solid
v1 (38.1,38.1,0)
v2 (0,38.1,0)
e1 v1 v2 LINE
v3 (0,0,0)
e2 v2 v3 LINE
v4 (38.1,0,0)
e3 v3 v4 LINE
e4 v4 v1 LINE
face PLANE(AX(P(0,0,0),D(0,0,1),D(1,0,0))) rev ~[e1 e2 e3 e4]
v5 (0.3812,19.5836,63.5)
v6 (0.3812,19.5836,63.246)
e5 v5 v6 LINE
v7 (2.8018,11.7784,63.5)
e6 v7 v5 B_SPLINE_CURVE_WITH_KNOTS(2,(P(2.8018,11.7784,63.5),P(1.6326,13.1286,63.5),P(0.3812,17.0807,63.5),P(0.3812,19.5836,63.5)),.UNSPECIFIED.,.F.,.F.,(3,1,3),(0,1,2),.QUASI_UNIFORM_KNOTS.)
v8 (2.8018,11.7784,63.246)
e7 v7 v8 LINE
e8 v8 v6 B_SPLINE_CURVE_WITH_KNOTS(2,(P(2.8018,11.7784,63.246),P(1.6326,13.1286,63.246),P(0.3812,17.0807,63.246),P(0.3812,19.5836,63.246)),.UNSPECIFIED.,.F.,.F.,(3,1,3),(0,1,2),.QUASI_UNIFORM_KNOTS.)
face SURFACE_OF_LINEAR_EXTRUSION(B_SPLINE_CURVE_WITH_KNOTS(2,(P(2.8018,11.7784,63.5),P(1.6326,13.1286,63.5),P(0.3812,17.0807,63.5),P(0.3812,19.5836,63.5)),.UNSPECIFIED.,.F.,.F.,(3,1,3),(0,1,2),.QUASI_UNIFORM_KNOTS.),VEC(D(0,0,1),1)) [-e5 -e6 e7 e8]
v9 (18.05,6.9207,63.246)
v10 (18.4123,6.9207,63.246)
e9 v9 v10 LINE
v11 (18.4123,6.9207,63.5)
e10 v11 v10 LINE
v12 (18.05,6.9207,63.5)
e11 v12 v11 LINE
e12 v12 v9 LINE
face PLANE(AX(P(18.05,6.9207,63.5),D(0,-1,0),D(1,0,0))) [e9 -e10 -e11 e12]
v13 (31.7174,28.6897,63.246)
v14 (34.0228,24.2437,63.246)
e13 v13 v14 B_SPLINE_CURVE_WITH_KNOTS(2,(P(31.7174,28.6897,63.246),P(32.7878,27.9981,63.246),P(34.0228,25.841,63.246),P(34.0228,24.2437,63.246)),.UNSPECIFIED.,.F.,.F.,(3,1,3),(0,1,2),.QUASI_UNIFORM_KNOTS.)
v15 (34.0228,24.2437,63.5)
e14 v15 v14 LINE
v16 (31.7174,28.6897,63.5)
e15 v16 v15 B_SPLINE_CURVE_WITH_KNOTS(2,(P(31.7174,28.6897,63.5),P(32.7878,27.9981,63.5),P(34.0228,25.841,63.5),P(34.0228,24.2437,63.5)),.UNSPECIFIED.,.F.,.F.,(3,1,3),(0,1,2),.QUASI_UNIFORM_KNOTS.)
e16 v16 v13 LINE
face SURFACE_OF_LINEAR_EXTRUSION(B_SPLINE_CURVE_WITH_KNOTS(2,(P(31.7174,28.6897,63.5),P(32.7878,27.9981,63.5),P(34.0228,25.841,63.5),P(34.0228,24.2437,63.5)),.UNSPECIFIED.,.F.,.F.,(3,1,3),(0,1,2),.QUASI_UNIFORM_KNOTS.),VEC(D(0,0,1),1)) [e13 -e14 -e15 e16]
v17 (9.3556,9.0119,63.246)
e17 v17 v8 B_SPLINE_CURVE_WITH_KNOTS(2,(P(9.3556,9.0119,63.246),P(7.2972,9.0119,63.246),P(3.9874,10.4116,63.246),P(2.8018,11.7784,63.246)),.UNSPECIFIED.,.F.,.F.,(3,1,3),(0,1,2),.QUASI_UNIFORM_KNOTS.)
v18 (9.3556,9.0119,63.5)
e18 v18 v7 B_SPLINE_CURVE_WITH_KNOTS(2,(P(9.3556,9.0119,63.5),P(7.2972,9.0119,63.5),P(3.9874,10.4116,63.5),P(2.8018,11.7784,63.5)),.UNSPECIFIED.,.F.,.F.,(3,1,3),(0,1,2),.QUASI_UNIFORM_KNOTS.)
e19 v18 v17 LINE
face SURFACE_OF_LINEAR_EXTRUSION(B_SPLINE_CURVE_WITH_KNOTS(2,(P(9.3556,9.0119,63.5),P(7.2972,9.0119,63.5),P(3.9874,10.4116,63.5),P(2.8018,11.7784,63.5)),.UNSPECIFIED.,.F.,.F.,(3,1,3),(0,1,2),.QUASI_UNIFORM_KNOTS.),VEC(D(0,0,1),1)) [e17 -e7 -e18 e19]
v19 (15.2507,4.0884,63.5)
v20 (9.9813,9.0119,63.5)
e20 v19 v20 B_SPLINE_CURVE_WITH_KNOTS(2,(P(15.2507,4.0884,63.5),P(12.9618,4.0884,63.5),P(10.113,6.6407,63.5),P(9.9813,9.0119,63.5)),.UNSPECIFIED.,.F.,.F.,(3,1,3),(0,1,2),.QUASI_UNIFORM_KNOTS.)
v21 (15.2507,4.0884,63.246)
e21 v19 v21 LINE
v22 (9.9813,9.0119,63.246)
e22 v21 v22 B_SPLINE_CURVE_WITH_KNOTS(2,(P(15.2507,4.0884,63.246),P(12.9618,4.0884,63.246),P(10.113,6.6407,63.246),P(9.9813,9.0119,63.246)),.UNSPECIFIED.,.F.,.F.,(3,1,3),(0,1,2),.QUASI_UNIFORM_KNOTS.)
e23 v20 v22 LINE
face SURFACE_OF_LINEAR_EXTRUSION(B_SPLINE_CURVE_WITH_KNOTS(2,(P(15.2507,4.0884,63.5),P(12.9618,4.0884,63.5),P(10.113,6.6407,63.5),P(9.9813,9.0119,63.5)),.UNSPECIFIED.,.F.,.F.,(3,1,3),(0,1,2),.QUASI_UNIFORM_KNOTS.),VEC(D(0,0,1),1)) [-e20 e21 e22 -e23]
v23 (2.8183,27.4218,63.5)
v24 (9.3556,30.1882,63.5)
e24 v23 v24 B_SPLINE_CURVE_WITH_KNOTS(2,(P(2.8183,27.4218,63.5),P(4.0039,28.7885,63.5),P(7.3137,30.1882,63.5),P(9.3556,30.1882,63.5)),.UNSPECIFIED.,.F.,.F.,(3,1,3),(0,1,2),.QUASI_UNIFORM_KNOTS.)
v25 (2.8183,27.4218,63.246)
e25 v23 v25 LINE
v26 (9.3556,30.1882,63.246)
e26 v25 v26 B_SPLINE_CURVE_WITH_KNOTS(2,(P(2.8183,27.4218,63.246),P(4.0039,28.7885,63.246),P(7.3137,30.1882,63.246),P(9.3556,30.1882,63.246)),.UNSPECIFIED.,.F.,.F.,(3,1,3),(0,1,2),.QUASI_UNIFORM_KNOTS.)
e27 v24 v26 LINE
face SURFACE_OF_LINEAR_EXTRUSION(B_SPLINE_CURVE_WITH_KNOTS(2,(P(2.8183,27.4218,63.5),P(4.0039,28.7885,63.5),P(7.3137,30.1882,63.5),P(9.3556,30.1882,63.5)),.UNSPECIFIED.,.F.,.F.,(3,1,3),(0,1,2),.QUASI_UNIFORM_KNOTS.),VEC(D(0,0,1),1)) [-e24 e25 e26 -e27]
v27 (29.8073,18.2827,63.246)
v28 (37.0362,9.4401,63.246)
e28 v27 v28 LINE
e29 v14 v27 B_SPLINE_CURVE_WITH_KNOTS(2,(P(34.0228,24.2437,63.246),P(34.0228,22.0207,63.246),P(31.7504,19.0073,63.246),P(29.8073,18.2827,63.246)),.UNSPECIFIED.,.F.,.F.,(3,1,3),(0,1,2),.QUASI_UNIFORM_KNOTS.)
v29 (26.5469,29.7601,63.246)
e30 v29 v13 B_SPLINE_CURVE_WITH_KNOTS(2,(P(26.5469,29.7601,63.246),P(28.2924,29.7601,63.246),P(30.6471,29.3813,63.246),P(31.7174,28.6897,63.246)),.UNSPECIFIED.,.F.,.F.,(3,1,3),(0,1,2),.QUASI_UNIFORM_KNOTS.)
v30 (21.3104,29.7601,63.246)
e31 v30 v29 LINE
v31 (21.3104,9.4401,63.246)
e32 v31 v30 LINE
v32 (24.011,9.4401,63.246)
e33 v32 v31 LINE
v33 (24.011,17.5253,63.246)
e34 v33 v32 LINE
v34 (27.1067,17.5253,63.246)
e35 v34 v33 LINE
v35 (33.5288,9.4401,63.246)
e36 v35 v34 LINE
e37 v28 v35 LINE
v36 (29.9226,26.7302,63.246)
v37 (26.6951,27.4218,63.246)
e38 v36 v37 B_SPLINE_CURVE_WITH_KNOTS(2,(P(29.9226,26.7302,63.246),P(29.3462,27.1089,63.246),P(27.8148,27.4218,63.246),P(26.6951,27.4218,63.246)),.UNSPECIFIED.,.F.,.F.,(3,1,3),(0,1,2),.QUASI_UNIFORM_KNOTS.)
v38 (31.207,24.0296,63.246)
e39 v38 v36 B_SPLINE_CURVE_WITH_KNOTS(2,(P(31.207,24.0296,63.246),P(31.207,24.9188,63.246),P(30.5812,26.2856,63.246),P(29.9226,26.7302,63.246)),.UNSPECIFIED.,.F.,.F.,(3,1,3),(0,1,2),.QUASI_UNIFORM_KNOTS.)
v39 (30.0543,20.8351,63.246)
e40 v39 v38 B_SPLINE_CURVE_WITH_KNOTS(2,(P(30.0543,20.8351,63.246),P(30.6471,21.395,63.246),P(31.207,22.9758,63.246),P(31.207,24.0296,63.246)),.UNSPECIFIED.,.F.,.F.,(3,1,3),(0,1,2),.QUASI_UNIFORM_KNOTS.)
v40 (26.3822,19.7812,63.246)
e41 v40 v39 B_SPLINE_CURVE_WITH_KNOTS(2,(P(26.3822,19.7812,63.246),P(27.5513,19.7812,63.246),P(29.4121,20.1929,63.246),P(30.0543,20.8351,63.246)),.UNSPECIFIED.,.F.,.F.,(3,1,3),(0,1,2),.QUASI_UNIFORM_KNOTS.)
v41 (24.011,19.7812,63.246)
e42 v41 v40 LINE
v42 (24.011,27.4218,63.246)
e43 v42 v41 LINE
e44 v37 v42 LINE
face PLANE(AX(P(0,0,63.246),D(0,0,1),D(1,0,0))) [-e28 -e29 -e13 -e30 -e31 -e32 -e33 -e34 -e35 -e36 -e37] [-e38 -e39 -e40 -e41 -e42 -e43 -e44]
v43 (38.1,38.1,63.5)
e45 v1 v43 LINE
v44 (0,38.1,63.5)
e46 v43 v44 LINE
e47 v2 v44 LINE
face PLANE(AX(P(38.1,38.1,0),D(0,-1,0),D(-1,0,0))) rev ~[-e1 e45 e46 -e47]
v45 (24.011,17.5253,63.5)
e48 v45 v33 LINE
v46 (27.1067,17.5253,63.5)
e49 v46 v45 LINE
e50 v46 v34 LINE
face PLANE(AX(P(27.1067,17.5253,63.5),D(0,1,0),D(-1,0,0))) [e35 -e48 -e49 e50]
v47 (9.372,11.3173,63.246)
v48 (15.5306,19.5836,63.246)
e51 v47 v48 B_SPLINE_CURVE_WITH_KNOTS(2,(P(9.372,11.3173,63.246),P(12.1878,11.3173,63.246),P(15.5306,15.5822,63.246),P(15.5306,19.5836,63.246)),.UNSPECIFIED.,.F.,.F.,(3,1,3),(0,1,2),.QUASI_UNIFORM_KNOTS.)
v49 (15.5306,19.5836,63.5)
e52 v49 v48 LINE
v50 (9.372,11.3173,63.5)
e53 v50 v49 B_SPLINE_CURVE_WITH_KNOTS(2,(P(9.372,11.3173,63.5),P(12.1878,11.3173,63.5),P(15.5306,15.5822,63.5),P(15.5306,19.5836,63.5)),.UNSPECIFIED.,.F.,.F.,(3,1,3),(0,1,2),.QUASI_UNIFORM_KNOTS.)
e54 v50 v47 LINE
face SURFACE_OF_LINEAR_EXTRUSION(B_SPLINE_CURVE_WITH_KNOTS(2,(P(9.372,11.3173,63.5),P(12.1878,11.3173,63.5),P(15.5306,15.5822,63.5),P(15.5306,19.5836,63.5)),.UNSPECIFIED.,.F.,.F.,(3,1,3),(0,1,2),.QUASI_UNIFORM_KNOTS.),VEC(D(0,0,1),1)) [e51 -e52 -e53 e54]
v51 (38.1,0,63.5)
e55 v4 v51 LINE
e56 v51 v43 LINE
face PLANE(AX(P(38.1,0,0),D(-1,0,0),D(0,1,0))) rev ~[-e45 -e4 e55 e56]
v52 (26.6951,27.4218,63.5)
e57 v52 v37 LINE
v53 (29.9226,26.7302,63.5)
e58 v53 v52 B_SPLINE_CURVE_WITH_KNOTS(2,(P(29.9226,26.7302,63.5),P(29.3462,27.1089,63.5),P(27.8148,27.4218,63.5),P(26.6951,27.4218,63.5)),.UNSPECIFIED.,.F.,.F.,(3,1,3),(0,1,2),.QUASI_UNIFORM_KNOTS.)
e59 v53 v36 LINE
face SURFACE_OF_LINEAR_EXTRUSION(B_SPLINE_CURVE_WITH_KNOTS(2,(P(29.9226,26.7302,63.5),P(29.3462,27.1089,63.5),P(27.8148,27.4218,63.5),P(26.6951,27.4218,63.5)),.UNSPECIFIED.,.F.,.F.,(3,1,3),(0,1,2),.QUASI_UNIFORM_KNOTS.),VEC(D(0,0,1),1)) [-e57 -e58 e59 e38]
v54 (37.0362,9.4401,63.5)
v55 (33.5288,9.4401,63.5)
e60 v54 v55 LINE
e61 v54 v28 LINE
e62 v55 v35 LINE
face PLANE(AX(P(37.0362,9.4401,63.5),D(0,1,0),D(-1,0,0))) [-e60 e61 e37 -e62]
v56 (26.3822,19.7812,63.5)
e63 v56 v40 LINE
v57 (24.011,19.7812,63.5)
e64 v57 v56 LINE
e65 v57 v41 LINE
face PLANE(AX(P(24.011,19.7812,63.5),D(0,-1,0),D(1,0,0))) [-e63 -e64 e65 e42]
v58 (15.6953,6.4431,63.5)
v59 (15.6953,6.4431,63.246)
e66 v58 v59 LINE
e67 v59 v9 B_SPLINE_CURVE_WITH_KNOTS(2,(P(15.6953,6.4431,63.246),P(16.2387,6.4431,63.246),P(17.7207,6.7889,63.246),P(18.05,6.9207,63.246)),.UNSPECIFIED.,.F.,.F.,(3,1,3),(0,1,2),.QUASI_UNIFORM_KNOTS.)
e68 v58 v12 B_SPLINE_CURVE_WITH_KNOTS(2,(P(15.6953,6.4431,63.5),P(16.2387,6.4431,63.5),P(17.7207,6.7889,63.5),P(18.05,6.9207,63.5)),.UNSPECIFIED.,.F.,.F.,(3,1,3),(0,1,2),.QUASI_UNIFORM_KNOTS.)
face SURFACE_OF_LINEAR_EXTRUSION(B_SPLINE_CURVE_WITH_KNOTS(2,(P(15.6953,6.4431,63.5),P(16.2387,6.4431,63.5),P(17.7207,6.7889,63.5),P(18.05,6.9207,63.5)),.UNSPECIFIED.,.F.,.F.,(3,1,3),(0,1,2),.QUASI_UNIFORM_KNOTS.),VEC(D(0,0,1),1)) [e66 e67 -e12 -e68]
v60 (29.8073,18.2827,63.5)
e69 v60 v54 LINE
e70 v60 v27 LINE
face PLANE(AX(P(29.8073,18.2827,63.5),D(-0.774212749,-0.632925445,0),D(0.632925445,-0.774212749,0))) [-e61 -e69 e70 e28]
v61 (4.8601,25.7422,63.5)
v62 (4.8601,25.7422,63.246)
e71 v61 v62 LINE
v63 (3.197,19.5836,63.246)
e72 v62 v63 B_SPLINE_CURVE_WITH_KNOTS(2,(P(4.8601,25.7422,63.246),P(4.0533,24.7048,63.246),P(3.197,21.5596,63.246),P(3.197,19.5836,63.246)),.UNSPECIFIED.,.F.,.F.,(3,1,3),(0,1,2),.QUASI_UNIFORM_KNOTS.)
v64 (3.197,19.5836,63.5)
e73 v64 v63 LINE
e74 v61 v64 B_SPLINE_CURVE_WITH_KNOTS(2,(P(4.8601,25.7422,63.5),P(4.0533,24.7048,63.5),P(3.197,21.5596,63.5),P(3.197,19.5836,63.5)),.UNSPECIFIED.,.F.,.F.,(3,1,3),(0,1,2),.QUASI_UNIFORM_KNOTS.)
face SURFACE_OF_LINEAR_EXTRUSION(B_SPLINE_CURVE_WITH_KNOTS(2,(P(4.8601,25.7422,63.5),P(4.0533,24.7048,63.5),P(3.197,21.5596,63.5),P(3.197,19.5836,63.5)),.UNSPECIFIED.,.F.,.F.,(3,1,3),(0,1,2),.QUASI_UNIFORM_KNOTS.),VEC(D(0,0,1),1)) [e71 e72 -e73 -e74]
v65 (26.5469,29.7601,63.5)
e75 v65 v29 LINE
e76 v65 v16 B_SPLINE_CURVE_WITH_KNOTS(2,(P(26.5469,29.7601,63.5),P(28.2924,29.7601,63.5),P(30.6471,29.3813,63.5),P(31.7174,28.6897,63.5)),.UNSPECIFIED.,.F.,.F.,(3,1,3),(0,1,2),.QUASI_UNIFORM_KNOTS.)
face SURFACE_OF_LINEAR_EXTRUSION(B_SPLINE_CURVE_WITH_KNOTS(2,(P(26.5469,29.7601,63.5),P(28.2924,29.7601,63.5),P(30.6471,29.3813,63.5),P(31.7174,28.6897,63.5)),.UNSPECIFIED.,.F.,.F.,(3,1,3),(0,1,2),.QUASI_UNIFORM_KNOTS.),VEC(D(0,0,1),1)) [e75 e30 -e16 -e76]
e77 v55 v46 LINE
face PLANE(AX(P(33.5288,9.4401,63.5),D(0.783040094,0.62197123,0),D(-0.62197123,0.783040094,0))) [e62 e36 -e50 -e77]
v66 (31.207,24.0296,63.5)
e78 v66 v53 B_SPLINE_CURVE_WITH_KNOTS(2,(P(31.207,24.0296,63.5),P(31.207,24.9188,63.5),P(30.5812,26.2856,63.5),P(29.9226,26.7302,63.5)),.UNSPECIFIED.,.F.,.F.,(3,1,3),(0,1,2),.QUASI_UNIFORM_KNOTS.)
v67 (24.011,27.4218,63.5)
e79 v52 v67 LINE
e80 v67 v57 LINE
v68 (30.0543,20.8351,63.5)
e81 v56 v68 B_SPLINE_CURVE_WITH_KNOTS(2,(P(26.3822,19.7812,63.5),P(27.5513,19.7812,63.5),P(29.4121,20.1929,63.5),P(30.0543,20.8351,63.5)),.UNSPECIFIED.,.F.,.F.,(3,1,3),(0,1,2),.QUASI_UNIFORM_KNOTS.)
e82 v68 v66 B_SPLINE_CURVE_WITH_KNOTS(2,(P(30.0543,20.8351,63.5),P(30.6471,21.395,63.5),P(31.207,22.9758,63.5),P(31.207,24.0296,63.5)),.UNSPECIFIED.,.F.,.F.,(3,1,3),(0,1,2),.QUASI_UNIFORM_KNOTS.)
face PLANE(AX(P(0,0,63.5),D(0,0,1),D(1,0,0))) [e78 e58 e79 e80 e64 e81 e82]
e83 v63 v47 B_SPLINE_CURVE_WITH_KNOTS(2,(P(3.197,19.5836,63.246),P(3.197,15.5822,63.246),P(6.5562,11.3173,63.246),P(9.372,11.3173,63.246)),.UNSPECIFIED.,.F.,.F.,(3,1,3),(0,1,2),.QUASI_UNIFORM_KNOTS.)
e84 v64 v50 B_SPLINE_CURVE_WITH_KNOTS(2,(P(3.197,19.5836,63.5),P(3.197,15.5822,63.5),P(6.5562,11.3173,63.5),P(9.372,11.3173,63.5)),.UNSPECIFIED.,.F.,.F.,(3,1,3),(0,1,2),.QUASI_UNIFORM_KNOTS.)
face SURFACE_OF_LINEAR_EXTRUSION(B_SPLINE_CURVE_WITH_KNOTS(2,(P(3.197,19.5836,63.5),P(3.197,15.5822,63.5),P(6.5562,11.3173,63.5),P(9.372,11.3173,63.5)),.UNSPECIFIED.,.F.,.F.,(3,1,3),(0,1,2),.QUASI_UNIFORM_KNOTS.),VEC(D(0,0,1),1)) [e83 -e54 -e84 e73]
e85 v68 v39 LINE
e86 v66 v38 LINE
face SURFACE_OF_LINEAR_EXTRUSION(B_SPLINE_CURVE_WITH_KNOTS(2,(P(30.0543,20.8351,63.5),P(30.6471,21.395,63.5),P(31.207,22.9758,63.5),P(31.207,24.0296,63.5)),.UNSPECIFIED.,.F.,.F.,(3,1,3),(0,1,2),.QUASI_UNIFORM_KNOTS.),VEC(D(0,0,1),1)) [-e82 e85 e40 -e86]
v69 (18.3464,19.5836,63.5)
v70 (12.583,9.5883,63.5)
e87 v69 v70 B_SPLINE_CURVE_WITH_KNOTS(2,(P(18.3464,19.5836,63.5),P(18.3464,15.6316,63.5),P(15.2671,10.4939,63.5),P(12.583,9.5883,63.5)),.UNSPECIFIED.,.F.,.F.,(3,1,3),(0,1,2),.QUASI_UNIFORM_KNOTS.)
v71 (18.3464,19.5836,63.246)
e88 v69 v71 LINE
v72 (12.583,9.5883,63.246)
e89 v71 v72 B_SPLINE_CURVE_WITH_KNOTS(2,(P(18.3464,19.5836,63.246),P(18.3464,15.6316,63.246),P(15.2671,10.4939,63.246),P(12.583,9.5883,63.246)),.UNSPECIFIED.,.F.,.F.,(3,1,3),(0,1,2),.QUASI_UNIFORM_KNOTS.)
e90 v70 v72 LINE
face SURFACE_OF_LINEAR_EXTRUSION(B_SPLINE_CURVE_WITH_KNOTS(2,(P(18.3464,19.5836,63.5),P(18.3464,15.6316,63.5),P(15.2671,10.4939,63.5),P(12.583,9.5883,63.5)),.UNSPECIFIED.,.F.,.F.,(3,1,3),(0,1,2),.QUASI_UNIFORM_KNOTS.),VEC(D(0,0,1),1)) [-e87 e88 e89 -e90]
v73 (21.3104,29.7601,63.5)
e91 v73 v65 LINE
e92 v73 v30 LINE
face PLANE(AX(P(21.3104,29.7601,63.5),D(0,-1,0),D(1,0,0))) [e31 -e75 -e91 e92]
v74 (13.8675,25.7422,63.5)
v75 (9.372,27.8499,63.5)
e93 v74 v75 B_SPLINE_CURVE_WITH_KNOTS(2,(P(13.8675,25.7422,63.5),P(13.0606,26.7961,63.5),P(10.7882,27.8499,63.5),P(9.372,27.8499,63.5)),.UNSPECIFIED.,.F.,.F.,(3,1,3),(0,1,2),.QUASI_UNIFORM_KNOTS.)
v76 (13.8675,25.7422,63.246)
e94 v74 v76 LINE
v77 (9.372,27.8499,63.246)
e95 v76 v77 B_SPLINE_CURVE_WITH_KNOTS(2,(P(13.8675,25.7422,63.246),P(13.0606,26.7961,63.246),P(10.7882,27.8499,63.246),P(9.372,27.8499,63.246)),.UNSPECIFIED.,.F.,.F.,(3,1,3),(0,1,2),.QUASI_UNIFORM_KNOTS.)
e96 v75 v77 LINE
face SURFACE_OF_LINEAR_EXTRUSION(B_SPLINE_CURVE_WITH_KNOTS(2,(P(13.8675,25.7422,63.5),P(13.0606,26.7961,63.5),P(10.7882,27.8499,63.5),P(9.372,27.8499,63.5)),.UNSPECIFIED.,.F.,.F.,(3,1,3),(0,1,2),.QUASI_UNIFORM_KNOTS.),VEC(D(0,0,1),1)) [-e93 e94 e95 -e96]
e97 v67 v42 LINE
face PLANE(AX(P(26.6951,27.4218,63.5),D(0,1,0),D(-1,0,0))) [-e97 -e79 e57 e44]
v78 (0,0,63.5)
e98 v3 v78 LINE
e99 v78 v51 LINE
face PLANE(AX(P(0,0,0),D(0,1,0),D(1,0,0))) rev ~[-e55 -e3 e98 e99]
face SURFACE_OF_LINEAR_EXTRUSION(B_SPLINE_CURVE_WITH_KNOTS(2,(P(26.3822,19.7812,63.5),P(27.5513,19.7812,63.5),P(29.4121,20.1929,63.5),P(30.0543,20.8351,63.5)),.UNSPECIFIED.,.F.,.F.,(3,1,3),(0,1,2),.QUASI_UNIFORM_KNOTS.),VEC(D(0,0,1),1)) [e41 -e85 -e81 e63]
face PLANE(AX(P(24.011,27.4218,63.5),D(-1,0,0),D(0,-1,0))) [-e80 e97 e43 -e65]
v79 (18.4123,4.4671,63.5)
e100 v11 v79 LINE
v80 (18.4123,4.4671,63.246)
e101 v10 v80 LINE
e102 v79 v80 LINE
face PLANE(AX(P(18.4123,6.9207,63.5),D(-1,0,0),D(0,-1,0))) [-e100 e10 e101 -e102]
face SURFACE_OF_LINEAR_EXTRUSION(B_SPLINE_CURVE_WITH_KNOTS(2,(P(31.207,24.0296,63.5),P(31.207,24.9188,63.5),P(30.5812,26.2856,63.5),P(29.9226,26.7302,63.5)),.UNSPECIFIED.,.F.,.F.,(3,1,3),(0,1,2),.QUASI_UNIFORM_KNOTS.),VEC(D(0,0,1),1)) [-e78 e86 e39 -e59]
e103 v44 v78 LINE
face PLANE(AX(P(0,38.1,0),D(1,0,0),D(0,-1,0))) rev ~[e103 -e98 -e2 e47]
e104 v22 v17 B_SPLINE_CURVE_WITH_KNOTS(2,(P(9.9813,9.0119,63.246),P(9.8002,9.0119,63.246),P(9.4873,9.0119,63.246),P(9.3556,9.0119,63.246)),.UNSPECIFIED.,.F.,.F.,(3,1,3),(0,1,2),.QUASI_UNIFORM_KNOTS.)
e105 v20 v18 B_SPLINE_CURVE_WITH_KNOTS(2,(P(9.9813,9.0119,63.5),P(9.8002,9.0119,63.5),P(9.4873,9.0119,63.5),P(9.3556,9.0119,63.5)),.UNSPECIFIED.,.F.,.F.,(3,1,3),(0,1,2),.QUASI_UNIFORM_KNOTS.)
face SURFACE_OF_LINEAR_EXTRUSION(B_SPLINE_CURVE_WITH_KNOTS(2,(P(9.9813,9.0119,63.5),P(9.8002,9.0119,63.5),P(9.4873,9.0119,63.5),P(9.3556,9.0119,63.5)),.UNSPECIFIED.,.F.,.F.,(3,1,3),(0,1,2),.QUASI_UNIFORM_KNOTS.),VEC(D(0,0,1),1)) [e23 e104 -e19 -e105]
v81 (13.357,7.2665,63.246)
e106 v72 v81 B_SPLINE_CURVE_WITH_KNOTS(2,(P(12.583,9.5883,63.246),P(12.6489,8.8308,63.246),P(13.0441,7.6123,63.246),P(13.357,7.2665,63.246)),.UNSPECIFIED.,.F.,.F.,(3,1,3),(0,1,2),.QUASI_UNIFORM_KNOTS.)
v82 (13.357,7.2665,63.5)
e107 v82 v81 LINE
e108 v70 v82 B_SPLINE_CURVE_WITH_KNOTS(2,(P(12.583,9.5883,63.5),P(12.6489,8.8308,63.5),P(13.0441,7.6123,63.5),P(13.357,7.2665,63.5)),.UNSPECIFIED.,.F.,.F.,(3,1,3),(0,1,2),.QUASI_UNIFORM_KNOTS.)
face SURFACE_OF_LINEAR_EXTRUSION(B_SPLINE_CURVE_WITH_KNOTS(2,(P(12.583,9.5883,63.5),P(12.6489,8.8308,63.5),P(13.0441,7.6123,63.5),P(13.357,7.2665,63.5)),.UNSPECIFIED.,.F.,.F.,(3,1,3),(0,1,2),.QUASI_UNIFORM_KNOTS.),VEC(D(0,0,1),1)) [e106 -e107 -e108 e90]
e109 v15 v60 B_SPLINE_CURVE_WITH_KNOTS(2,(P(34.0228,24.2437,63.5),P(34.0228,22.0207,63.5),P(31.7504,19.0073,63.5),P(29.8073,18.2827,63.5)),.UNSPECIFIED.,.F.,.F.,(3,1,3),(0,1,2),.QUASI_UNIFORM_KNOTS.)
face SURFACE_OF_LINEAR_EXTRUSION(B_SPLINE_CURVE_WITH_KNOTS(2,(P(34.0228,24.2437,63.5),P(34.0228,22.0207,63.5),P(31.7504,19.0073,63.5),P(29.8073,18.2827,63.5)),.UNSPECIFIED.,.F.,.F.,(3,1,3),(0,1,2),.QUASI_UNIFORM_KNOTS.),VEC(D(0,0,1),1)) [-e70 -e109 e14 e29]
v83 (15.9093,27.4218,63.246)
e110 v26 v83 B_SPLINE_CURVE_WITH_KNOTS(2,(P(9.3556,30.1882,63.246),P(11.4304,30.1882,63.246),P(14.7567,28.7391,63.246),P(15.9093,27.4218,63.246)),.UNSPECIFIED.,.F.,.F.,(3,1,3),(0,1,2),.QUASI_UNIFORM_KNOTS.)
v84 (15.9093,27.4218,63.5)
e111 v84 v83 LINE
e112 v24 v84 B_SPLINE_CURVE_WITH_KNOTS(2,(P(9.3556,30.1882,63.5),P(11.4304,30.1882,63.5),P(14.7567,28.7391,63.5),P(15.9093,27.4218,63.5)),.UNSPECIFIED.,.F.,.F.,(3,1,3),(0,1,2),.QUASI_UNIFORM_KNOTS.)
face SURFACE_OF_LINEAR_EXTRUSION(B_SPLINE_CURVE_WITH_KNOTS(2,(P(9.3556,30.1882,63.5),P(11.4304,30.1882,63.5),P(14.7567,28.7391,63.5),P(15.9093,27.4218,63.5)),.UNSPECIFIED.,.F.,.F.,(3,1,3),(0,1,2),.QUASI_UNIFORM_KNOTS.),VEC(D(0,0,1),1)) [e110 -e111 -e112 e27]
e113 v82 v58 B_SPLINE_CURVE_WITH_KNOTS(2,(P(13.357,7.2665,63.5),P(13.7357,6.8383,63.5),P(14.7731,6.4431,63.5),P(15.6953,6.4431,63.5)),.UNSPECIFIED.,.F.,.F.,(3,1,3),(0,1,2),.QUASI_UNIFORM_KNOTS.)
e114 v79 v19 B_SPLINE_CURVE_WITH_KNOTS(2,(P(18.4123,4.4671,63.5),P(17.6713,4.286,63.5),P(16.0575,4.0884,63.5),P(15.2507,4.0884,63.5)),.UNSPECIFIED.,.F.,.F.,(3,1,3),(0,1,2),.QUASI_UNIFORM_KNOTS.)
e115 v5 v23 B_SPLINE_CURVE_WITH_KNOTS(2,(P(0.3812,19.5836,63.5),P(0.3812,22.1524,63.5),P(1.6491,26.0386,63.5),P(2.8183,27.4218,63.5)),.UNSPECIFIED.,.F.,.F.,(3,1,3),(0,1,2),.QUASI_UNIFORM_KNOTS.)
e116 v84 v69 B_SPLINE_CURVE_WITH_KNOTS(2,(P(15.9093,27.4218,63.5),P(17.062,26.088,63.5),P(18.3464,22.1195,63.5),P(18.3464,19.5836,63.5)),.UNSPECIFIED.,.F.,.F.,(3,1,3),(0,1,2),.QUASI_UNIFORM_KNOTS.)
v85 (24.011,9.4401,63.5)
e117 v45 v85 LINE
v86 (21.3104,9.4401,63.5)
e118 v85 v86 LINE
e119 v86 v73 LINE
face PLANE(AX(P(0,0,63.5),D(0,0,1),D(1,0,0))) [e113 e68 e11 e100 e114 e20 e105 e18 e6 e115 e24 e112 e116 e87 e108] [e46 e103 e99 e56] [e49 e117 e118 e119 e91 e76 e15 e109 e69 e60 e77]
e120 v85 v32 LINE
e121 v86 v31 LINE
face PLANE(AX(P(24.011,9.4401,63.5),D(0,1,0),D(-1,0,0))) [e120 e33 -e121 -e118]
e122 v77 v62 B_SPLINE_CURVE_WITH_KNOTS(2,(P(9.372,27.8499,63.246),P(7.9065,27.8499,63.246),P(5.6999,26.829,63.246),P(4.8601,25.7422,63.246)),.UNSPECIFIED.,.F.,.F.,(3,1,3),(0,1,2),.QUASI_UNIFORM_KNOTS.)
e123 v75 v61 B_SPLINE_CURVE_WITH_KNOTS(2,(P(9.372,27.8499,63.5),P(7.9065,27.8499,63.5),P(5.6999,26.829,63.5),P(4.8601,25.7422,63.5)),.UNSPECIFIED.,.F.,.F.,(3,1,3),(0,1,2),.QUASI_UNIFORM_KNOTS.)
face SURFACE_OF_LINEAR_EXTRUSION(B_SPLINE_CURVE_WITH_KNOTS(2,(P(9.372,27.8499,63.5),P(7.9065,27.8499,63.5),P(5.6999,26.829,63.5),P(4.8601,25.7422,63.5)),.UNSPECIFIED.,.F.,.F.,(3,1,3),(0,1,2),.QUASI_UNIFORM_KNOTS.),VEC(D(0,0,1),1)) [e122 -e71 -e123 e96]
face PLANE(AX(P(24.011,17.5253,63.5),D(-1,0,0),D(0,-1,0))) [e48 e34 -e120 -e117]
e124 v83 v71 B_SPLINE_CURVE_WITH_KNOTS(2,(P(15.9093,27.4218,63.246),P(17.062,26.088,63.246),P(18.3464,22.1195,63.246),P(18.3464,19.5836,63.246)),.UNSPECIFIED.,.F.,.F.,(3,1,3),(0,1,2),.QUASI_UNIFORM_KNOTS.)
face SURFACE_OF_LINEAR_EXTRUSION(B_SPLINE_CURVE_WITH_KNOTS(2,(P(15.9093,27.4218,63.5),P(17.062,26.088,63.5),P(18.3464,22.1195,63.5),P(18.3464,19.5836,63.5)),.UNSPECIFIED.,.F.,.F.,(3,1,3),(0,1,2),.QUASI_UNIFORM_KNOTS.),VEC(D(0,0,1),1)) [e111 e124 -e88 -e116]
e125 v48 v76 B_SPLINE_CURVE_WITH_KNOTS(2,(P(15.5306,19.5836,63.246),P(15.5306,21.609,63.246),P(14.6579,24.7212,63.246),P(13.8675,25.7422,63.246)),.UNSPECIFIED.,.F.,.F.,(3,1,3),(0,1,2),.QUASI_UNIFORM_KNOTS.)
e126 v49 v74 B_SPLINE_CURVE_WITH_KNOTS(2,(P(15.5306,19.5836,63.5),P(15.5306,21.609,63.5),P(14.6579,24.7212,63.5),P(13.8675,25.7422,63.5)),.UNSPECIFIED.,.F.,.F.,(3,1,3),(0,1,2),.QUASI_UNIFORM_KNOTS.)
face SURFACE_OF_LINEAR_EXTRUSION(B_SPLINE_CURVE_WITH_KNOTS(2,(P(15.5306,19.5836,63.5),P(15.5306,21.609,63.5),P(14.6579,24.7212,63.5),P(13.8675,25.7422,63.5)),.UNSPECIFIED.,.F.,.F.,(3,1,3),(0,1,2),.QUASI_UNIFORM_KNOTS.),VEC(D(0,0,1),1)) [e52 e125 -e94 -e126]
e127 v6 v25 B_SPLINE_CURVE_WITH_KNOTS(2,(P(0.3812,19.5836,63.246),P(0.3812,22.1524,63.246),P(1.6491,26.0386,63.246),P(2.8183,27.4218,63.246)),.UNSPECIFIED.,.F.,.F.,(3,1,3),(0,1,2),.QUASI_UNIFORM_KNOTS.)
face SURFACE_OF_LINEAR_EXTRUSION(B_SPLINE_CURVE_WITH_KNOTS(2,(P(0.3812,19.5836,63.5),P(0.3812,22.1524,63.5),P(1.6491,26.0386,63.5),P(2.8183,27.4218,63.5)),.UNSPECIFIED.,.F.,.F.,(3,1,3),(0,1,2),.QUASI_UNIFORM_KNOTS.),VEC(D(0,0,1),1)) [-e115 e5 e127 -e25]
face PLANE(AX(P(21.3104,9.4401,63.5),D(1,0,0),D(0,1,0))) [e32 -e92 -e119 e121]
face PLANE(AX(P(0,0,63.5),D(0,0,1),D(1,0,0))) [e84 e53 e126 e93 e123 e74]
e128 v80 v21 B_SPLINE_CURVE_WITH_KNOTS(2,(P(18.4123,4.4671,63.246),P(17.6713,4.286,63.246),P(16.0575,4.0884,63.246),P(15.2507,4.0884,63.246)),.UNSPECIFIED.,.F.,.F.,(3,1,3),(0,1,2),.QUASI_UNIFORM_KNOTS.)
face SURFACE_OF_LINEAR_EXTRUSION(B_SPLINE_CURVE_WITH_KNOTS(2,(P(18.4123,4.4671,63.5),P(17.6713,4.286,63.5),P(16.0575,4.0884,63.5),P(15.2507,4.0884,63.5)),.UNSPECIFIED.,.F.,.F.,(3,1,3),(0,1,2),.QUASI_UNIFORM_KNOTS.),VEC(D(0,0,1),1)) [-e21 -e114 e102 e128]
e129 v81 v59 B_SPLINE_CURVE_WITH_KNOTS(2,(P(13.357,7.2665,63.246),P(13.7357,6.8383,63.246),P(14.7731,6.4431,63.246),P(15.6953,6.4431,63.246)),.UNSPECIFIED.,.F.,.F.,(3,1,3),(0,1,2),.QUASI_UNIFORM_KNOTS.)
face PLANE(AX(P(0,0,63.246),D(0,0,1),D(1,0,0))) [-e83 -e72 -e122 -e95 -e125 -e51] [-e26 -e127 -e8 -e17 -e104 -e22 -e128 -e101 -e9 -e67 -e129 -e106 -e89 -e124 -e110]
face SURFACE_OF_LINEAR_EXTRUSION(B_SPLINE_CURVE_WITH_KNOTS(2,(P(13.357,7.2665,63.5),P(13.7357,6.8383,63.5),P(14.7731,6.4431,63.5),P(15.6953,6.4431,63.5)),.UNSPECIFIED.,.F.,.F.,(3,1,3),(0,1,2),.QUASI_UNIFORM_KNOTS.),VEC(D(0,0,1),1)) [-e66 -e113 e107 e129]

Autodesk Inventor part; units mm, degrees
ref_plane "YZ Plane" through (0, 0, 0) normal (1, 0, 0) x (0, 1, 0)
ref_plane "XZ Plane" through (0, 0, 0) normal (0, 1, 0) x (-1, 0, 0)
ref_plane "XY Plane" through (0, 0, 0) normal (0, 0, 1) x (1, 0, 0)
sketch "Sketch1" plane through (0, 0, 0) normal (0, 0, 1) x (1, 0, 0)
  line L0 (0, 0) -> (38.1, 0)
  line L1 (38.1, 0) -> (38.1, 38.1)
  line L2 (38.1, 38.1) -> (0, 38.1)
  line L3 (0, 38.1) -> (0, 0)
  dimension "d0" = 38.1
  dimension "d1" = 38.1
extrude "Extrusion1" add sketch "Sketch1" along normal blind 63.5
sketch "Sketch2" plane through (0, 0, 63.5) normal (0, 0, 1) x (1, 0, 0)
  line L0 (-0.5245, 30.1882) -> (22.6731, 30.1882) construction
  line L1 (22.6731, 30.1882) -> (22.6731, 13.8758) construction
  line L2 (22.6731, 13.8758) -> (-0.5245, 13.8758) construction
  line L3 (-0.5245, 13.8758) -> (-0.5245, 30.1882) construction
  spline S0 degree 2 poles (18.4123, 4.4671) (17.6713, 4.286) (16.0575, 4.0884) (15.2507, 4.0884) knots 0 0 0 1 2 2 2
  spline S1 degree 2 poles (15.2507, 4.0884) (12.9618, 4.0884) (10.113, 6.6407) (9.9813, 9.0119) knots 0 0 0 1 2 2 2
  spline S2 degree 2 poles (9.9813, 9.0119) (9.8002, 9.0119) (9.4873, 9.0119) (9.3556, 9.0119) knots 0 0 0 1 2 2 2
  spline S3 degree 2 poles (9.3556, 9.0119) (7.2972, 9.0119) (3.9874, 10.4116) (2.8018, 11.7784) knots 0 0 0 1 2 2 2
  spline S4 degree 2 poles (2.8018, 11.7784) (1.6326, 13.1286) (0.3812, 17.0807) (0.3812, 19.5836) knots 0 0 0 1 2 2 2
  spline S5 degree 2 poles (0.3812, 19.5836) (0.3812, 22.1524) (1.6491, 26.0386) (2.8183, 27.4218) knots 0 0 0 1 2 2 2
  spline S6 degree 2 poles (2.8183, 27.4218) (4.0039, 28.7885) (7.3137, 30.1882) (9.3556, 30.1882) knots 0 0 0 1 2 2 2
  spline S7 degree 2 poles (9.3556, 30.1882) (11.4304, 30.1882) (14.7567, 28.7391) (15.9093, 27.4218) knots 0 0 0 1 2 2 2
  spline S8 degree 2 poles (15.9093, 27.4218) (17.062, 26.088) (18.3464, 22.1195) (18.3464, 19.5836) knots 0 0 0 1 2 2 2
  spline S9 degree 2 poles (18.3464, 19.5836) (18.3464, 15.6316) (15.2671, 10.4939) (12.583, 9.5883) knots 0 0 0 1 2 2 2
  spline S10 degree 2 poles (12.583, 9.5883) (12.6489, 8.8308) (13.0441, 7.6123) (13.357, 7.2665) knots 0 0 0 1 2 2 2
  spline S11 degree 2 poles (13.357, 7.2665) (13.7357, 6.8383) (14.7731, 6.4431) (15.6953, 6.4431) knots 0 0 0 1 2 2 2
  spline S12 degree 2 poles (15.6953, 6.4431) (16.2387, 6.4431) (17.7207, 6.7889) (18.05, 6.9207) knots 0 0 0 1 2 2 2
  line L4 (18.05, 6.9207) -> (18.4123, 6.9207)
  line L5 (18.4123, 6.9207) -> (18.4123, 4.4671)
  spline S13 degree 2 poles (15.5306, 19.5836) (15.5306, 21.609) (14.6579, 24.7212) (13.8675, 25.7422) knots 0 0 0 1 2 2 2
  spline S14 degree 2 poles (13.8675, 25.7422) (13.0606, 26.7961) (10.7882, 27.8499) (9.372, 27.8499) knots 0 0 0 1 2 2 2
  spline S15 degree 2 poles (9.372, 27.8499) (7.9065, 27.8499) (5.6999, 26.829) (4.8601, 25.7422) knots 0 0 0 1 2 2 2
  spline S16 degree 2 poles (4.8601, 25.7422) (4.0533, 24.7048) (3.197, 21.5596) (3.197, 19.5836) knots 0 0 0 1 2 2 2
  spline S17 degree 2 poles (3.197, 19.5836) (3.197, 15.5822) (6.5562, 11.3173) (9.372, 11.3173) knots 0 0 0 1 2 2 2
  spline S18 degree 2 poles (9.372, 11.3173) (12.1878, 11.3173) (15.5306, 15.5822) (15.5306, 19.5836) knots 0 0 0 1 2 2 2
  line L6 (37.0362, 9.4401) -> (33.5288, 9.4401)
  line L7 (33.5288, 9.4401) -> (27.1067, 17.5253)
  line L8 (27.1067, 17.5253) -> (24.011, 17.5253)
  line L9 (24.011, 17.5253) -> (24.011, 9.4401)
  line L10 (24.011, 9.4401) -> (21.3104, 9.4401)
  line L11 (21.3104, 9.4401) -> (21.3104, 29.7601)
  line L12 (21.3104, 29.7601) -> (26.5469, 29.7601)
  spline S19 degree 2 poles (26.5469, 29.7601) (28.2924, 29.7601) (30.6471, 29.3813) (31.7174, 28.6897) knots 0 0 0 1 2 2 2
  spline S20 degree 2 poles (31.7174, 28.6897) (32.7878, 27.9981) (34.0228, 25.841) (34.0228, 24.2437) knots 0 0 0 1 2 2 2
  spline S21 degree 2 poles (34.0228, 24.2437) (34.0228, 22.0207) (31.7504, 19.0073) (29.8073, 18.2827) knots 0 0 0 1 2 2 2
  line L13 (29.8073, 18.2827) -> (37.0362, 9.4401)
  spline S22 degree 2 poles (31.207, 24.0296) (31.207, 24.9188) (30.5812, 26.2856) (29.9226, 26.7302) knots 0 0 0 1 2 2 2
  spline S23 degree 2 poles (29.9226, 26.7302) (29.3462, 27.1089) (27.8148, 27.4218) (26.6951, 27.4218) knots 0 0 0 1 2 2 2
  line L14 (26.6951, 27.4218) -> (24.011, 27.4218)
  line L15 (24.011, 27.4218) -> (24.011, 19.7812)
  line L16 (24.011, 19.7812) -> (26.3822, 19.7812)
  spline S24 degree 2 poles (26.3822, 19.7812) (27.5513, 19.7812) (29.4121, 20.1929) (30.0543, 20.8351) knots 0 0 0 1 2 2 2
  spline S25 degree 2 poles (30.0543, 20.8351) (30.6471, 21.395) (31.207, 22.9758) (31.207, 24.0296) knots 0 0 0 1 2 2 2
  point P0 (0, 0)
extrude "Extrusion2" cut sketch "Sketch2" against normal blind 0.254
equation "\"d1\" = d0"
properties part number "Container 2 2 2 and half color 5"
